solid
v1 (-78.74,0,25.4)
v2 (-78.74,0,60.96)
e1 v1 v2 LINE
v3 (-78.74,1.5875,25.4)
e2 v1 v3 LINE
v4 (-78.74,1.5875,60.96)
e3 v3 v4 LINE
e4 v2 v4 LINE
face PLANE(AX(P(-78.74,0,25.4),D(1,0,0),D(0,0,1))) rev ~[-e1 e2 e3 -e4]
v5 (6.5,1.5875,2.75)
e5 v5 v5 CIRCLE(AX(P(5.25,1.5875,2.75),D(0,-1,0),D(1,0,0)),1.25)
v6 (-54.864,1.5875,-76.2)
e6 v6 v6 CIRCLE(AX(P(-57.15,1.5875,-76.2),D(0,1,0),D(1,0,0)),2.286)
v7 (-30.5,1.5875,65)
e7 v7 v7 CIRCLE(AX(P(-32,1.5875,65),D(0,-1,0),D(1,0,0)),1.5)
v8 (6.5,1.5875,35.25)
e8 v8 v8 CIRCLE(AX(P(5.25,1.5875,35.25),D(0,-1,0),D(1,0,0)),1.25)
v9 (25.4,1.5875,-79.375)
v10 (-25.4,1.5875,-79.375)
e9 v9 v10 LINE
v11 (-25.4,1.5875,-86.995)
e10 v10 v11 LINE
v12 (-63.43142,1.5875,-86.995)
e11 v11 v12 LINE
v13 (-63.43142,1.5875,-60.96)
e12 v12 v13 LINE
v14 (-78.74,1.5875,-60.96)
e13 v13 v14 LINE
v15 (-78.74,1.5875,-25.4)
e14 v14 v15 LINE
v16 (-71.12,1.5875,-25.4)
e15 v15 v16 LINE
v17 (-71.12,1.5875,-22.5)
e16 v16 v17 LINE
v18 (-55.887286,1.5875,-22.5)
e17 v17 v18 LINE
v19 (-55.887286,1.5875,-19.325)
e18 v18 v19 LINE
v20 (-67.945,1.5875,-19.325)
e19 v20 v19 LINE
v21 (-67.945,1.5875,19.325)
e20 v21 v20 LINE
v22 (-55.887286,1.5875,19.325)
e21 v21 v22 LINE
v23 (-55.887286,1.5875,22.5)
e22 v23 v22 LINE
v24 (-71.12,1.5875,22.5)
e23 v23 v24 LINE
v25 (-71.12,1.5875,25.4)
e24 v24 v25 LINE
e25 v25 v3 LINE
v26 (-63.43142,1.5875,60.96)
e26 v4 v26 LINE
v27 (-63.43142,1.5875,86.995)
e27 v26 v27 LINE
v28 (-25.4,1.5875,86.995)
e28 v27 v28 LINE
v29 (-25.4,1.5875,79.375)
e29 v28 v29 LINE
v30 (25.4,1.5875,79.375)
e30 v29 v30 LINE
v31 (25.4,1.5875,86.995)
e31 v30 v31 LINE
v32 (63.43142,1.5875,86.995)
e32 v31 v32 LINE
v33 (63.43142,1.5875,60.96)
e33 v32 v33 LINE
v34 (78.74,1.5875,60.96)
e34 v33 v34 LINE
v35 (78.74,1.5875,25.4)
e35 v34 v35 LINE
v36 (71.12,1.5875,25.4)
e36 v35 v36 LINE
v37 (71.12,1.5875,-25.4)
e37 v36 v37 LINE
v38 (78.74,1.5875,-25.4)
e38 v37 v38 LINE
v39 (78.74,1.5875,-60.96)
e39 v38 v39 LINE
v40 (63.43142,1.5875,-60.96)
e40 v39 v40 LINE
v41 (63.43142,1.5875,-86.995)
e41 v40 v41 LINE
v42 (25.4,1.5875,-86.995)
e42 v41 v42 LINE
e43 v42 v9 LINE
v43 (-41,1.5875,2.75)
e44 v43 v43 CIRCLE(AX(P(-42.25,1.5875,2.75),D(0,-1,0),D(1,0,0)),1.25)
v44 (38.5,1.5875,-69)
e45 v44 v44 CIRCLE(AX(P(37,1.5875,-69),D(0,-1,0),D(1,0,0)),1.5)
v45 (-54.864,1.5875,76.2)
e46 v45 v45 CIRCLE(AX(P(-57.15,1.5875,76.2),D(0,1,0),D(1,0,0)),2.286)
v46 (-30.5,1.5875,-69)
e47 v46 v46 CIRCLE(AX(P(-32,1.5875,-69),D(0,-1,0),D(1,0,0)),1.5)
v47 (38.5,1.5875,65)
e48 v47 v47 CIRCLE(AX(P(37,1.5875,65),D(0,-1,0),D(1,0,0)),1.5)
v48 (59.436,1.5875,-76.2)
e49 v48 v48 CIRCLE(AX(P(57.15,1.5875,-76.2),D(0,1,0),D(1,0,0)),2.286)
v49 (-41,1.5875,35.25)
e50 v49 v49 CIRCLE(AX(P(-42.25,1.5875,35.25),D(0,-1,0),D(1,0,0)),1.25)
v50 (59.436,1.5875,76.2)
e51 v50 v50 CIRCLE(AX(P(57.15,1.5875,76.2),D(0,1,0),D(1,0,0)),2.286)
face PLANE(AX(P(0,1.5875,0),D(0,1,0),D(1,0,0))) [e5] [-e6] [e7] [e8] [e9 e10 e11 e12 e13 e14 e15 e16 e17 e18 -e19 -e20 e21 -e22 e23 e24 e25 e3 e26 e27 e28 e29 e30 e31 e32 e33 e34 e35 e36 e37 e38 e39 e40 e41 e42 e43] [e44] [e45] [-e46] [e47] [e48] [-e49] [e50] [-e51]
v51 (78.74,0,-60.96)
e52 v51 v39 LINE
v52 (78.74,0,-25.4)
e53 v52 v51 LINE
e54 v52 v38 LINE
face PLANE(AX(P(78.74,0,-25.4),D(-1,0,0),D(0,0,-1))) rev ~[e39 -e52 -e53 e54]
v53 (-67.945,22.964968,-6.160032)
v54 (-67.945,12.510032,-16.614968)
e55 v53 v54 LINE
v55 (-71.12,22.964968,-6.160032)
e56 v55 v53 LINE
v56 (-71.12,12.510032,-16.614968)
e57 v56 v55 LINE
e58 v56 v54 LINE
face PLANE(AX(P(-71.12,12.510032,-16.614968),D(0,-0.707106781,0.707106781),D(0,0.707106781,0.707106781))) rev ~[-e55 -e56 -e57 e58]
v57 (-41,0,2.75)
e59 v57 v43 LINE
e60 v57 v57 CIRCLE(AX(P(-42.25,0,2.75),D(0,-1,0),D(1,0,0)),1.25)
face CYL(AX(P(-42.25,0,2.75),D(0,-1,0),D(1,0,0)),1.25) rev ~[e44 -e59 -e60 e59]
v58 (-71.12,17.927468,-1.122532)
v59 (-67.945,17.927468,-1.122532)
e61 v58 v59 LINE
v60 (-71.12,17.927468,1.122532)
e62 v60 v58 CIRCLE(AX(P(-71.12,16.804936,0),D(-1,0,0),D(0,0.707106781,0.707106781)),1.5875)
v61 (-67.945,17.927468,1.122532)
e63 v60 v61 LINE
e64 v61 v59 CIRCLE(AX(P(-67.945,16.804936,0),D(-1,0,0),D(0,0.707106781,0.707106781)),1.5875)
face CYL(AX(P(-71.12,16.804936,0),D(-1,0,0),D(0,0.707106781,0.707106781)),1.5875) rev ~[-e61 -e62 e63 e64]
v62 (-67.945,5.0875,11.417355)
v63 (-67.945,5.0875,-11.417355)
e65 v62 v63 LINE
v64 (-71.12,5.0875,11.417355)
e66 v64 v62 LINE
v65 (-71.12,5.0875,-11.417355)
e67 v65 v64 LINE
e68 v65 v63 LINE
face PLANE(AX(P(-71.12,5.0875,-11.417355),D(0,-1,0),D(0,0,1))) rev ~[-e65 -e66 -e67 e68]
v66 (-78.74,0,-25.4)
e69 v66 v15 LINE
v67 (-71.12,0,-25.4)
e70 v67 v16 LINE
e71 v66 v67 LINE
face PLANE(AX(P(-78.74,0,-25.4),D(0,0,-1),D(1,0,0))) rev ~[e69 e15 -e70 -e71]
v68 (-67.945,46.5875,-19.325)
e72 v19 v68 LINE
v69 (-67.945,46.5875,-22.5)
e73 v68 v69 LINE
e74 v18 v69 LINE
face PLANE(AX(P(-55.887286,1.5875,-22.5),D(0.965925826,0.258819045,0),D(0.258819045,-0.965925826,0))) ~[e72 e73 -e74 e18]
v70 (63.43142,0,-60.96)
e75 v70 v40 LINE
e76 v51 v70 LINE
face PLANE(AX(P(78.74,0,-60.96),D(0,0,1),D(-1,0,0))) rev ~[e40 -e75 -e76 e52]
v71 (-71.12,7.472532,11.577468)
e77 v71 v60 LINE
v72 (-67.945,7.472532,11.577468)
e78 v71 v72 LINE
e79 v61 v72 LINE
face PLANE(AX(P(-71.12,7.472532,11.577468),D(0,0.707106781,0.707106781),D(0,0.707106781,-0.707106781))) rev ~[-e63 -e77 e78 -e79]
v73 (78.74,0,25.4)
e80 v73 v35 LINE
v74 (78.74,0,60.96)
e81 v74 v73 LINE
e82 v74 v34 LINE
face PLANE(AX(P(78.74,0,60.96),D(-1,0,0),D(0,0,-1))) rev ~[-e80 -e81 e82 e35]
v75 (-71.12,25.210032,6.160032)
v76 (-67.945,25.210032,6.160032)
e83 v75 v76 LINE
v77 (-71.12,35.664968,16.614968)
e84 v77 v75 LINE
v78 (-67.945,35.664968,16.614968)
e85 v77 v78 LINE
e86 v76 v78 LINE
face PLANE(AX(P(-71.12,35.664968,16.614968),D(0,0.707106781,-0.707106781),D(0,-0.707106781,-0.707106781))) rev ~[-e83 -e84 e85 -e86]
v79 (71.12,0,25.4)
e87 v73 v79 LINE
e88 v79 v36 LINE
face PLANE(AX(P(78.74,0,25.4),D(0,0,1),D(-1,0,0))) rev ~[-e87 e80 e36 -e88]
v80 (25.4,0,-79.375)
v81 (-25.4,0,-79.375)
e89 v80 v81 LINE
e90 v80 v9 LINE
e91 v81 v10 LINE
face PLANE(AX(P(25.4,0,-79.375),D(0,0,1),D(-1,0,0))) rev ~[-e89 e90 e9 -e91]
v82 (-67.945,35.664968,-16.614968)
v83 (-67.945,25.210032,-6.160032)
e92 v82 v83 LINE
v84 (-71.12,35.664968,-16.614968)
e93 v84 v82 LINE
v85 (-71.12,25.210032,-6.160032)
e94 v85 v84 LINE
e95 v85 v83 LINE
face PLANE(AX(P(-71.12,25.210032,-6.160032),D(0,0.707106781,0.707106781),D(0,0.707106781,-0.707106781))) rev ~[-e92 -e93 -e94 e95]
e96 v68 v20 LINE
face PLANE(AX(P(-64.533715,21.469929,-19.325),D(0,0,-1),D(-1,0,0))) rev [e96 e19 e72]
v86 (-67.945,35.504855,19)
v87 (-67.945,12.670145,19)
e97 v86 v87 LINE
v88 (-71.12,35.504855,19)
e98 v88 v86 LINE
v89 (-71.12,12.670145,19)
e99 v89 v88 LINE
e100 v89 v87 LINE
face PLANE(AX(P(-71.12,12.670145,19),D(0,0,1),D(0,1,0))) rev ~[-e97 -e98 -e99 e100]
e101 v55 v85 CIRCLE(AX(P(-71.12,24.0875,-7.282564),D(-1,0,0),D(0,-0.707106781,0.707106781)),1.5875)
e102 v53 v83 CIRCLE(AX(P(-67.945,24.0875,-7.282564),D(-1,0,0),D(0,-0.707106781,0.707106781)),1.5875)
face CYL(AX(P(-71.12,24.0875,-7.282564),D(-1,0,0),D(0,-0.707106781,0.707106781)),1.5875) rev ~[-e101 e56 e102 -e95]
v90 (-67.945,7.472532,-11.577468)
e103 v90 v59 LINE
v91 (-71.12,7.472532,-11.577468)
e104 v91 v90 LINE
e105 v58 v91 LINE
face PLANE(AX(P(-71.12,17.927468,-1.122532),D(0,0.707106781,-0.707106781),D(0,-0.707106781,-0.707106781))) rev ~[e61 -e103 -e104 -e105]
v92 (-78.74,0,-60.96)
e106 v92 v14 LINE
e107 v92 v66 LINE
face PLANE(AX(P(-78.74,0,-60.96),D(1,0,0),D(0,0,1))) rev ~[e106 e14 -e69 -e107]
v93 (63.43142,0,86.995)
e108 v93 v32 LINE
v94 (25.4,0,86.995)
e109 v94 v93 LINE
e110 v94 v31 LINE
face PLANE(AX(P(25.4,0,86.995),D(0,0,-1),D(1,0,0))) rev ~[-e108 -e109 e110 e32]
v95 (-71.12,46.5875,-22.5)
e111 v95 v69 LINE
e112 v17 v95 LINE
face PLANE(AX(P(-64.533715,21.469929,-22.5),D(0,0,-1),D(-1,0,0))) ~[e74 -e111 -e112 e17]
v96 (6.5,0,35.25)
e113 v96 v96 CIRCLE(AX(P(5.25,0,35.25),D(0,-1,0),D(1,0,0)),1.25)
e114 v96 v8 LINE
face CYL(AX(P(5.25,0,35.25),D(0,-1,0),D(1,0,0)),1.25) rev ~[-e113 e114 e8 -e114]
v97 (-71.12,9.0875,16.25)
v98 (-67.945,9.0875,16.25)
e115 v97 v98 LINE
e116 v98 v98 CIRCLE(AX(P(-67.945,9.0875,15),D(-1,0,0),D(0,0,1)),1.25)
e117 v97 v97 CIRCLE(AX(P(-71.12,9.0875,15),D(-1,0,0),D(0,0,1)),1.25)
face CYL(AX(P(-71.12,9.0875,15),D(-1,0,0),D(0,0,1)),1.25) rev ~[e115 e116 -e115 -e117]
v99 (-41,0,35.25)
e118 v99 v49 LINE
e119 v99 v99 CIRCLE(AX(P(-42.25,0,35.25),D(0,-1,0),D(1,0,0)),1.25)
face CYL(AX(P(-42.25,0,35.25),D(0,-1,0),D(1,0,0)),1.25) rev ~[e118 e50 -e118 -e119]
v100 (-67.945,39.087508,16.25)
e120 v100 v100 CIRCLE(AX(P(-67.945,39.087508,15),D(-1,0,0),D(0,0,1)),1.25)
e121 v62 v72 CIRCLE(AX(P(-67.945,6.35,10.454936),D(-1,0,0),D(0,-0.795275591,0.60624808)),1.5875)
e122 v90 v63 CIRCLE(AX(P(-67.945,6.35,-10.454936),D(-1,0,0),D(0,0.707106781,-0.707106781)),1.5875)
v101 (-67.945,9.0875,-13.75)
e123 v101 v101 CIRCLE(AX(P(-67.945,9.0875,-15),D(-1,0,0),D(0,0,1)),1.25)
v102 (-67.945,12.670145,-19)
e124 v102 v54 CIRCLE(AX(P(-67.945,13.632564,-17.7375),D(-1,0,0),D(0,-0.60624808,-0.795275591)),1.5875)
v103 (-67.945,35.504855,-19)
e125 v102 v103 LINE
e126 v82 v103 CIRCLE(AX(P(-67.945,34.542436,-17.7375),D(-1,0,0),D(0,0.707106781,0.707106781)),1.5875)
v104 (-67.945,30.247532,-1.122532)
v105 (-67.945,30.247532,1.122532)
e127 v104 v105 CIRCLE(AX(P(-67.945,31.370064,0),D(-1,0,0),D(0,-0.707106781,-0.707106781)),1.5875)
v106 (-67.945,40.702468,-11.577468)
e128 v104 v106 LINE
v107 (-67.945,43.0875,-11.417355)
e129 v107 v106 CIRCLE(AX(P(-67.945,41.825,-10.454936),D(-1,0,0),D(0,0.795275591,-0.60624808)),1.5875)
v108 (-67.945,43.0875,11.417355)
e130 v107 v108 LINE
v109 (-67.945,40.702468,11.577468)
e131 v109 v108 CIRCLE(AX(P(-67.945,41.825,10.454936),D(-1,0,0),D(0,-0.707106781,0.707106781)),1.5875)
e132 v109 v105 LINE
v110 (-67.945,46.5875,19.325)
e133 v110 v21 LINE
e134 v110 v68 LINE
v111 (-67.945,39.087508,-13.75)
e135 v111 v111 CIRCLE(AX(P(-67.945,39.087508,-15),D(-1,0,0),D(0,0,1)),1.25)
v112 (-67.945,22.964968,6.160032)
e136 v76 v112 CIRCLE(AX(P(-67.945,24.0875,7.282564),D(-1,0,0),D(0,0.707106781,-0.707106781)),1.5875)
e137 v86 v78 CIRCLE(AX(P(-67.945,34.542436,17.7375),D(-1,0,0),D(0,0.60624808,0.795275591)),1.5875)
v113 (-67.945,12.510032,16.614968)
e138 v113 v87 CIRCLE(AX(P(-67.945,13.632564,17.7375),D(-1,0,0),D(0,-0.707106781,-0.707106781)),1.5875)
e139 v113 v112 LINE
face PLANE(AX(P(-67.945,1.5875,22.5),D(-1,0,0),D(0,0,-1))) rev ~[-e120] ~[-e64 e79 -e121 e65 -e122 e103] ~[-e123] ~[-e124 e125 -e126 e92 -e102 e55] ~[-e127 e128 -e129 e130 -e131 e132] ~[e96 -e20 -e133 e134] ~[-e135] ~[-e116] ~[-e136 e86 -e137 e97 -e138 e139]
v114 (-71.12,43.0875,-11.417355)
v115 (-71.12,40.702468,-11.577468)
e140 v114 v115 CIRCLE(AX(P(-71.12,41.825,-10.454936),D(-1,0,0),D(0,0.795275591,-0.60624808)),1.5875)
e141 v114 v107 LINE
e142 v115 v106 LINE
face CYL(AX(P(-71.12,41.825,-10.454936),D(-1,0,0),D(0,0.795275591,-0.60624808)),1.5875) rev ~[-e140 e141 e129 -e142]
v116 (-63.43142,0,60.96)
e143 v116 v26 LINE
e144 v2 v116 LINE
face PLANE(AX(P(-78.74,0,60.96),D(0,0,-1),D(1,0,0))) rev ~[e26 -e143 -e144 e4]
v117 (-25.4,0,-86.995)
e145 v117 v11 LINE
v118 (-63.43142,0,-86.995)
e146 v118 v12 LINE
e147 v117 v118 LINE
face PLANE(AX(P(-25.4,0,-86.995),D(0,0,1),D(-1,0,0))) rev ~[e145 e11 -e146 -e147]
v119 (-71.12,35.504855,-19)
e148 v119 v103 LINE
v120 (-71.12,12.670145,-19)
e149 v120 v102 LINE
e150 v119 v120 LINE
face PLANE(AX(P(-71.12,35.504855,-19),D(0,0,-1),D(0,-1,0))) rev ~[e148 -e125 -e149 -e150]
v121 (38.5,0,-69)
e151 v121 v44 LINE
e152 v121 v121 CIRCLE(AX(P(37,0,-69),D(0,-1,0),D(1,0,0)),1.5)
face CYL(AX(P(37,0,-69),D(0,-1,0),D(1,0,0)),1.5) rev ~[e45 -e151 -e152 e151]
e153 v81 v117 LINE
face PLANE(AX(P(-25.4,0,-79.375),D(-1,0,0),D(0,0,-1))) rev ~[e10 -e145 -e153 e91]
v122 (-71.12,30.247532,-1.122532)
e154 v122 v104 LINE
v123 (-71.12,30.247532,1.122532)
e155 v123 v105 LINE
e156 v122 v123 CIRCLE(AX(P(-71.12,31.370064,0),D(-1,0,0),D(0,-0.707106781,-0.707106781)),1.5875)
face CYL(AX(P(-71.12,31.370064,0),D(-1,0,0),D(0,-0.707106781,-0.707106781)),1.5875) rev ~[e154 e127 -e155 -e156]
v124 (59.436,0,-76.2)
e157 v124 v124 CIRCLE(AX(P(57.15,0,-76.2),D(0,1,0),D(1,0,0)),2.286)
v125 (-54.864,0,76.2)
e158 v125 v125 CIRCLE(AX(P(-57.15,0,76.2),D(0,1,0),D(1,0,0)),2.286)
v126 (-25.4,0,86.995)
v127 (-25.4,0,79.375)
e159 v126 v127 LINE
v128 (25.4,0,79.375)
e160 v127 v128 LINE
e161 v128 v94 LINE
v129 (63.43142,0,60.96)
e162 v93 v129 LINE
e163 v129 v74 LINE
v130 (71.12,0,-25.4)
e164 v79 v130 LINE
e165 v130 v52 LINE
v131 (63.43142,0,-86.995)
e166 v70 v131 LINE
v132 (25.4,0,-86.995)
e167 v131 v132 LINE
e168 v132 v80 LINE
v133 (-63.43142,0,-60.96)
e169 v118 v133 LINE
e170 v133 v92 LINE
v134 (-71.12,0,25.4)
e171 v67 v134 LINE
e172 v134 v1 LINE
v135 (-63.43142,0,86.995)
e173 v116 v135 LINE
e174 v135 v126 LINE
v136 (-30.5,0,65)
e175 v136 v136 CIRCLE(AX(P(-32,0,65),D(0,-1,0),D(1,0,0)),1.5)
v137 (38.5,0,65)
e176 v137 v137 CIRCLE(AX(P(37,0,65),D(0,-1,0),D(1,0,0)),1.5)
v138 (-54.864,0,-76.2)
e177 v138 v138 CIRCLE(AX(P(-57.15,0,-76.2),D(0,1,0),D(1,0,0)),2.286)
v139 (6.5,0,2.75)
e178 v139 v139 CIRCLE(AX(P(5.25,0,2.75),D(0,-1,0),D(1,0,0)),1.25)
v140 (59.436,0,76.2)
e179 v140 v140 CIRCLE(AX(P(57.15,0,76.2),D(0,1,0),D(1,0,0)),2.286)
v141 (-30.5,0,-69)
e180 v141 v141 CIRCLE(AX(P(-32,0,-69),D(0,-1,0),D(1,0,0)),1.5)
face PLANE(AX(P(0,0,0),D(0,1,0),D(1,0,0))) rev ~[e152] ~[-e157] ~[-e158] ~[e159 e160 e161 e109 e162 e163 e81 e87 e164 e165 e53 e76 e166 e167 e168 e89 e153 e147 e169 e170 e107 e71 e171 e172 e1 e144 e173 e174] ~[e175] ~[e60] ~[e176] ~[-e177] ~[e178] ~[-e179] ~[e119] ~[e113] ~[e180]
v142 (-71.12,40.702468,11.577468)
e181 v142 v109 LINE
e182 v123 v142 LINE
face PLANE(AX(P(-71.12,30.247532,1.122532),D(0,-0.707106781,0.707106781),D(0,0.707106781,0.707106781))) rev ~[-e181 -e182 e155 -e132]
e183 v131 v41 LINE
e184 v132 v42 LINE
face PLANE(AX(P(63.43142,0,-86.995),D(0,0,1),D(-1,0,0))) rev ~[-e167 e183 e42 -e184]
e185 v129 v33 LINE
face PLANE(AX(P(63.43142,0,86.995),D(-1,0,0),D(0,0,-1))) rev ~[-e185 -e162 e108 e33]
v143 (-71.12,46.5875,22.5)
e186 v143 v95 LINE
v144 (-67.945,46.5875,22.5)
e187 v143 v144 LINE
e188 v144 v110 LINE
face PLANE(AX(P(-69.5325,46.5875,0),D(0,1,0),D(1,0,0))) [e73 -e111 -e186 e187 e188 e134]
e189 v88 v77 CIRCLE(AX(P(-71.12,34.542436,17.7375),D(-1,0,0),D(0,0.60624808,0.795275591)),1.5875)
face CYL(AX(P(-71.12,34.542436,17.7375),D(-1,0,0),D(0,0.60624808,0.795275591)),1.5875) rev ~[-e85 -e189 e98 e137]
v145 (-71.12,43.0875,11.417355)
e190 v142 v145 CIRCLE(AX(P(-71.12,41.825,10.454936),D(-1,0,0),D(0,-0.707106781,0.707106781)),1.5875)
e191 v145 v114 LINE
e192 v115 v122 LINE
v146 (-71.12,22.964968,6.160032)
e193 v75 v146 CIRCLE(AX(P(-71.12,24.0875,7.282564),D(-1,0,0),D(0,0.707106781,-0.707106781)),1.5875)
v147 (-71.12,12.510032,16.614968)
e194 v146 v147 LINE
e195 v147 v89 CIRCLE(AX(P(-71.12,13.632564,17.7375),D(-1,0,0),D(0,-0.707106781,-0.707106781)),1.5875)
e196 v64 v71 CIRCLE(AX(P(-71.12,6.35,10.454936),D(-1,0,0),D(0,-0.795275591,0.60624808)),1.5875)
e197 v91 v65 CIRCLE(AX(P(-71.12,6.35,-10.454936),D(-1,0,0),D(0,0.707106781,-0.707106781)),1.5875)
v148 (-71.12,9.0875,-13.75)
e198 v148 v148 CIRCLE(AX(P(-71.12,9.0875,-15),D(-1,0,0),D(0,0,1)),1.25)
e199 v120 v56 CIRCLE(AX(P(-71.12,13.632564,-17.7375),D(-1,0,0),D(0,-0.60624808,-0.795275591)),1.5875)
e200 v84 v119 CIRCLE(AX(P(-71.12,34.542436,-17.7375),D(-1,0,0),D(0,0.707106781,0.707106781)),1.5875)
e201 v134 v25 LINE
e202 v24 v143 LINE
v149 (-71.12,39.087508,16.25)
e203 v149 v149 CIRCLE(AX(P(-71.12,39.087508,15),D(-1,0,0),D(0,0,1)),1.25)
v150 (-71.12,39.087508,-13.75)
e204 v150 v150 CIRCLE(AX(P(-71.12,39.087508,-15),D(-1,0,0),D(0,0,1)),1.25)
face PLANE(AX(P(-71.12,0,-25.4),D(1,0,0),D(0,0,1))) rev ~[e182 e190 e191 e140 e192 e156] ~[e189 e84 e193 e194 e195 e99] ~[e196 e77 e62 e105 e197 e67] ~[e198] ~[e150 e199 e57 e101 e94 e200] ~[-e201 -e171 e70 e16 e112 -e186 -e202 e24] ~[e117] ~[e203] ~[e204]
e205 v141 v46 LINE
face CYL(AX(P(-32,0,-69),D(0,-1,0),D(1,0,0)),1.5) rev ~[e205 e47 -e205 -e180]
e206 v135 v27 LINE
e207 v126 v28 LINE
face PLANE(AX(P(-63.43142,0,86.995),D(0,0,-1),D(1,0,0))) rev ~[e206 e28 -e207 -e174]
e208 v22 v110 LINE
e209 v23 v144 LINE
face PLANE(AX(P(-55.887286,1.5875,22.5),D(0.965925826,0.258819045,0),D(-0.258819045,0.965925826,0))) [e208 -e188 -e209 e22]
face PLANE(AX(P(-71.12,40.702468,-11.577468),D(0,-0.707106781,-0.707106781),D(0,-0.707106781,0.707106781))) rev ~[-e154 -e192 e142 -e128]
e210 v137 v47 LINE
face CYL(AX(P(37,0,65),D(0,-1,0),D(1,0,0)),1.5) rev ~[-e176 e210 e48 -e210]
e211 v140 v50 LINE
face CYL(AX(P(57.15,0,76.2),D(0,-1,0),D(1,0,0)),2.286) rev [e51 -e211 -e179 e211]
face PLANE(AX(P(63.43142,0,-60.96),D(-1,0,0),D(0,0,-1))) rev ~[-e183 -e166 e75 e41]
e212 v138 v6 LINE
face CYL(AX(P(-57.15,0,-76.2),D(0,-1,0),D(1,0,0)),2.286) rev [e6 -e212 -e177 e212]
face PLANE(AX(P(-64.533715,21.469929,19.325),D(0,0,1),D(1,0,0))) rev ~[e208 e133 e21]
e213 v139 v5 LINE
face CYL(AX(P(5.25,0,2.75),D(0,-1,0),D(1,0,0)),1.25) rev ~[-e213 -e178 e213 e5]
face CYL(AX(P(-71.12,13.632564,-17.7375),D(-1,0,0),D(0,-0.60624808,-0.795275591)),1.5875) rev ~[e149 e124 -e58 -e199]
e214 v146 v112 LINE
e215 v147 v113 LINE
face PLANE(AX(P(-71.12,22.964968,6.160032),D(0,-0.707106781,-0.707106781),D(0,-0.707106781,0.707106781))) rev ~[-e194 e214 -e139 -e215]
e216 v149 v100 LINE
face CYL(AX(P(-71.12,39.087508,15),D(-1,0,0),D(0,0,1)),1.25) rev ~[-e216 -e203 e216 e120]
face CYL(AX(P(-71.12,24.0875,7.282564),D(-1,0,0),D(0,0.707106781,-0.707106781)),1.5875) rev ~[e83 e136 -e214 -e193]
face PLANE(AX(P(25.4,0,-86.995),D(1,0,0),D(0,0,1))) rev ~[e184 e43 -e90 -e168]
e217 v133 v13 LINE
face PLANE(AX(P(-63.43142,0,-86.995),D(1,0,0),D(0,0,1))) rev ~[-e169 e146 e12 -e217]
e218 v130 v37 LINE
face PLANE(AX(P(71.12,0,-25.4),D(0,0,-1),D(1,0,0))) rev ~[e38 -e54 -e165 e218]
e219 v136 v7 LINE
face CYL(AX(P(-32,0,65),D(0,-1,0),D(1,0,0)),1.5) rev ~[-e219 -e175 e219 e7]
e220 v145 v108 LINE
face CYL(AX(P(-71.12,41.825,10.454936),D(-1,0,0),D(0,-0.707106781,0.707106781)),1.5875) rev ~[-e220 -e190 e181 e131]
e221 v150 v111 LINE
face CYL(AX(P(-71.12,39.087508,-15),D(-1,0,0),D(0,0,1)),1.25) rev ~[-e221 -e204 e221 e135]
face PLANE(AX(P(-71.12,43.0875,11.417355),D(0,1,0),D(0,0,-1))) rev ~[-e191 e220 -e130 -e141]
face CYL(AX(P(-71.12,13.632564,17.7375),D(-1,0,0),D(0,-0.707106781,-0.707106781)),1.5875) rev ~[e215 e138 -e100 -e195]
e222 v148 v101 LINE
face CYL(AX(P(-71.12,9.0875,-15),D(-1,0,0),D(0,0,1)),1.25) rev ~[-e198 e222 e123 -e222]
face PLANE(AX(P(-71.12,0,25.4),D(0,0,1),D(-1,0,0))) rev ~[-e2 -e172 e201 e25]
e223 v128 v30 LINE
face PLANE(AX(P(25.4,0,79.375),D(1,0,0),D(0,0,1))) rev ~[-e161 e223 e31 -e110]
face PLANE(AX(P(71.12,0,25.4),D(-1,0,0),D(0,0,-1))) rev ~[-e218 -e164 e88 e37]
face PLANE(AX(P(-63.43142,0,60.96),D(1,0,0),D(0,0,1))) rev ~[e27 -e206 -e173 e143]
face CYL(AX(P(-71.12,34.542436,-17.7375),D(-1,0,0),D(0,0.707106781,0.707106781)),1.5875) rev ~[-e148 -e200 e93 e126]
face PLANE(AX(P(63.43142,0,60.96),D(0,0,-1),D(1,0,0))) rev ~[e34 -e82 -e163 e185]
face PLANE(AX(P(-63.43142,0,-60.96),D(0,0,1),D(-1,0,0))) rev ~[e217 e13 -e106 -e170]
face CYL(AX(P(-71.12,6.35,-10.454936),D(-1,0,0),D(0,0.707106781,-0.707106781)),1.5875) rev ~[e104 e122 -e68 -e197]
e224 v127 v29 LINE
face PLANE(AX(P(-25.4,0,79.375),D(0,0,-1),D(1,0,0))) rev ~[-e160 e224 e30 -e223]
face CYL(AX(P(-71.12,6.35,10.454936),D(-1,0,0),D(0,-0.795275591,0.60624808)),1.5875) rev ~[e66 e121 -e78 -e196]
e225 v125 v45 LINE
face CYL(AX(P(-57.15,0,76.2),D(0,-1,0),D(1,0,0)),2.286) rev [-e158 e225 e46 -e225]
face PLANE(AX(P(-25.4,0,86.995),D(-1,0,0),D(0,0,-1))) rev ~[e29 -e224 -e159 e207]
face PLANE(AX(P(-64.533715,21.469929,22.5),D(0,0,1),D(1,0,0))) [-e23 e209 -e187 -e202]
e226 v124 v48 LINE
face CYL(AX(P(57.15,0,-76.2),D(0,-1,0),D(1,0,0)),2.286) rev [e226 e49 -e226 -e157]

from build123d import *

# Parameters (mm, degrees)
SKETCH1_R           = 2.286
MAIN_BODY_DEPTH     = 1.5875
SKETCH8_W           = 3.175
SKETCH8_H           = 45
BOSS_EXTRUDE4_DEPTH = 45
BOSS_EXTRUDE5_DEPTH = 3.175
CUT_EXTRUDE2_REACH  = 151.86
SKETCH9_R           = 1.25
CUT_EXTRUDE3_REACH  = 48.587
SKETCH12_R          = 1.5
SKETCH12_R_2        = 1.25


with BuildPart() as part:
    # Sketch1 → Main Body (new body)
    with BuildSketch(Plane(origin=(0, 0, 0), x_dir=(1, 0, 0), z_dir=(0, 1, 0))):
        Polygon((-25.4, 86.995), (-63.43142, 86.995), (-63.43142, 60.96), (-78.74, 60.96), (-78.74, 25.4), (-71.12, 25.4), (-71.12, -25.4), (-78.74, -25.4), (-78.74, -60.96), (-63.43142, -60.96), (-63.43142, -86.995), (-25.4, -86.995), (-25.4, -79.375), (25.4, -79.375), (25.4, -86.995), (63.43142, -86.995), (63.43142, -60.96), (78.74, -60.96), (78.74, -25.4), (71.12, -25.4), (71.12, 25.4), (78.74, 25.4), (78.74, 60.96), (63.43142, 60.96), (63.43142, 86.995), (25.4, 86.995), (25.4, 79.375), (-25.4, 79.375), align=None)
        with Locations((-57.15, 76.2)):
            Circle(SKETCH1_R, mode=Mode.SUBTRACT)
        with Locations((57.15, 76.2)):
            Circle(SKETCH1_R, mode=Mode.SUBTRACT)
        with Locations((57.15, -76.2)):
            Circle(SKETCH1_R, mode=Mode.SUBTRACT)
        with Locations((-57.15, -76.2)):
            Circle(SKETCH1_R, mode=Mode.SUBTRACT)
    extrude(amount=MAIN_BODY_DEPTH)

    # Sketch8 → Boss-Extrude4 (add)
    with BuildSketch(Plane(origin=(0, 1.5875, 0), x_dir=(1, 0, 0), z_dir=(0, 1, 0))):
        with Locations((-69.5325, 0)):
            Rectangle(SKETCH8_W, SKETCH8_H)
    extrude(amount=BOSS_EXTRUDE4_DEPTH)

    # Sketch10 → Boss-Extrude5 (add)
    with BuildSketch(Plane.XY.offset(22.5)):
        Polygon((-67.945, 46.5875), (-67.945, 1.5875), (-55.887286341, 1.5875), align=None)
    boss_extrude5 = extrude(amount=-BOSS_EXTRUDE5_DEPTH)

    # Mirror3: Boss-Extrude5 across plane
    add(boss_extrude5.mirror(Plane.XY))

    # Sketch9 → Cut-Extrude2 (cut, up to next)
    with BuildSketch(Plane.ZY.offset(71.12), mode=Mode.PRIVATE) as cut_extrude2_sk1:
        with BuildLine():
            Line((-19, 35.504854797), (-19, 12.670145203))
            ThreePointArc((-19, 12.670145203), (-17.84383352, 12.048629236), (-16.614967985, 12.510032015))
            Line((-16.614967985, 12.510032015), (-6.160032015, 22.964967985))
            ThreePointArc((-6.160032015, 22.964967985), (-5.69506403, 24.0875), (-6.160032015, 25.210032015))
            Line((-6.160032015, 25.210032015), (-16.614967985, 35.664967985))
            ThreePointArc((-16.614967985, 35.664967985), (-17.84383352, 36.126370764), (-19, 35.504854797))
        make_face()
    cut_extrude2_tool1 = extrude(cut_extrude2_sk1.sketch, amount=-CUT_EXTRUDE2_REACH, mode=Mode.PRIVATE) & part.part
    add(cut_extrude2_tool1.solids().sort_by_distance((-71.12, 24.0875, -14.28057))[0], mode=Mode.SUBTRACT)
    # Sketch9 → Cut-Extrude2 (cut, up to next)
    with BuildSketch(Plane.ZY.offset(71.12), mode=Mode.PRIVATE) as cut_extrude2_sk2:
        with BuildLine():
            ThreePointArc((16.614967985, 12.510032015), (17.84383352, 12.048629236), (19, 12.670145203))
            Line((19, 12.670145203), (19, 35.504854797))
            ThreePointArc((19, 35.504854797), (17.84383352, 36.126370764), (16.614967985, 35.664967985))
            Line((16.614967985, 35.664967985), (6.160032015, 25.210032015))
            ThreePointArc((6.160032015, 25.210032015), (5.69506403, 24.0875), (6.160032015, 22.964967985))
            Line((6.160032015, 22.964967985), (16.614967985, 12.510032015))
        make_face()
    cut_extrude2_tool2 = extrude(cut_extrude2_sk2.sketch, amount=-CUT_EXTRUDE2_REACH, mode=Mode.PRIVATE) & part.part
    add(cut_extrude2_tool2.solids().sort_by_distance((-71.12, 24.0875, 14.28057))[0], mode=Mode.SUBTRACT)
    # Sketch9 → Cut-Extrude2 (cut, up to next)
    with BuildSketch(Plane.ZY.offset(71.12), mode=Mode.PRIVATE) as cut_extrude2_sk3:
        with BuildLine():
            ThreePointArc((-11.577467985, 7.472532015), (-12.038870764, 6.24366648), (-11.417354797, 5.0875))
            Line((-11.417354797, 5.0875), (11.417354797, 5.0875))
            ThreePointArc((11.417354797, 5.0875), (12.038870764, 6.24366648), (11.577467985, 7.472532015))
            Line((11.577467985, 7.472532015), (1.122532015, 17.927467985))
            ThreePointArc((1.122532015, 17.927467985), (0, 18.39243597), (-1.122532015, 17.927467985))
            Line((-1.122532015, 17.927467985), (-11.577467985, 7.472532015))
        make_face()
    cut_extrude2_tool3 = extrude(cut_extrude2_sk3.sketch, amount=-CUT_EXTRUDE2_REACH, mode=Mode.PRIVATE) & part.part
    add(cut_extrude2_tool3.solids().sort_by_distance((-71.12, 9.80693, 0))[0], mode=Mode.SUBTRACT)
    # Sketch9 → Cut-Extrude2 (cut, up to next)
    with BuildSketch(Plane.ZY.offset(71.12), mode=Mode.PRIVATE) as cut_extrude2_sk4:
        with BuildLine():
            Line((11.417354797, 43.0875), (-11.417354797, 43.0875))
            ThreePointArc((-11.417354797, 43.0875), (-12.038870764, 41.93133352), (-11.577467985, 40.702467985))
            Line((-11.577467985, 40.702467985), (-1.122532015, 30.247532015))
            ThreePointArc((-1.122532015, 30.247532015), (0, 29.78256403), (1.122532015, 30.247532015))
            Line((1.122532015, 30.247532015), (11.577467985, 40.702467985))
            ThreePointArc((11.577467985, 40.702467985), (12.038870764, 41.93133352), (11.417354797, 43.0875))
        make_face()
    cut_extrude2_tool4 = extrude(cut_extrude2_sk4.sketch, amount=-CUT_EXTRUDE2_REACH, mode=Mode.PRIVATE) & part.part
    add(cut_extrude2_tool4.solids().sort_by_distance((-71.12, 38.36807, 0))[0], mode=Mode.SUBTRACT)
    # Sketch9 → Cut-Extrude2 (cut, up to next)
    with BuildSketch(Plane.ZY.offset(71.12), mode=Mode.PRIVATE) as cut_extrude2_sk5:
        with Locations((15, 39.087508)):
            Circle(SKETCH9_R)
    cut_extrude2_tool5 = extrude(cut_extrude2_sk5.sketch, amount=-CUT_EXTRUDE2_REACH, mode=Mode.PRIVATE) & part.part
    add(cut_extrude2_tool5.solids().sort_by_distance((-71.12, 39.087508, 15))[0], mode=Mode.SUBTRACT)
    # Sketch9 → Cut-Extrude2 (cut, up to next)
    with BuildSketch(Plane.ZY.offset(71.12), mode=Mode.PRIVATE) as cut_extrude2_sk6:
        with Locations((-15, 39.087508)):
            Circle(SKETCH9_R)
    cut_extrude2_tool6 = extrude(cut_extrude2_sk6.sketch, amount=-CUT_EXTRUDE2_REACH, mode=Mode.PRIVATE) & part.part
    add(cut_extrude2_tool6.solids().sort_by_distance((-71.12, 39.087508, -15))[0], mode=Mode.SUBTRACT)
    # Sketch9 → Cut-Extrude2 (cut, up to next)
    with BuildSketch(Plane.ZY.offset(71.12), mode=Mode.PRIVATE) as cut_extrude2_sk7:
        with Locations((-15, 9.0875)):
            Circle(SKETCH9_R)
    cut_extrude2_tool7 = extrude(cut_extrude2_sk7.sketch, amount=-CUT_EXTRUDE2_REACH, mode=Mode.PRIVATE) & part.part
    add(cut_extrude2_tool7.solids().sort_by_distance((-71.12, 9.0875, -15))[0], mode=Mode.SUBTRACT)
    # Sketch9 → Cut-Extrude2 (cut, up to next)
    with BuildSketch(Plane.ZY.offset(71.12), mode=Mode.PRIVATE) as cut_extrude2_sk8:
        with Locations((15, 9.0875)):
            Circle(SKETCH9_R)
    cut_extrude2_tool8 = extrude(cut_extrude2_sk8.sketch, amount=-CUT_EXTRUDE2_REACH, mode=Mode.PRIVATE) & part.part
    add(cut_extrude2_tool8.solids().sort_by_distance((-71.12, 9.0875, 15))[0], mode=Mode.SUBTRACT)

    # Sketch12 → Cut-Extrude3 (cut, up to next)
    with BuildSketch(Plane.XZ, mode=Mode.PRIVATE) as cut_extrude3_sk1:
        with Locations((-32, -69)):
            Circle(SKETCH12_R)
    cut_extrude3_tool1 = extrude(cut_extrude3_sk1.sketch, amount=-CUT_EXTRUDE3_REACH, mode=Mode.PRIVATE) & part.part
    add(cut_extrude3_tool1.solids().sort_by_distance((-32, 0, -69))[0], mode=Mode.SUBTRACT)
    # Sketch12 → Cut-Extrude3 (cut, up to next)
    with BuildSketch(Plane.XZ, mode=Mode.PRIVATE) as cut_extrude3_sk2:
        with Locations((37, -69)):
            Circle(SKETCH12_R)
    cut_extrude3_tool2 = extrude(cut_extrude3_sk2.sketch, amount=-CUT_EXTRUDE3_REACH, mode=Mode.PRIVATE) & part.part
    add(cut_extrude3_tool2.solids().sort_by_distance((37, 0, -69))[0], mode=Mode.SUBTRACT)
    # Sketch12 → Cut-Extrude3 (cut, up to next)
    with BuildSketch(Plane.XZ, mode=Mode.PRIVATE) as cut_extrude3_sk3:
        with Locations((37, 65)):
            Circle(SKETCH12_R)
    cut_extrude3_tool3 = extrude(cut_extrude3_sk3.sketch, amount=-CUT_EXTRUDE3_REACH, mode=Mode.PRIVATE) & part.part
    add(cut_extrude3_tool3.solids().sort_by_distance((37, 0, 65))[0], mode=Mode.SUBTRACT)
    # Sketch12 → Cut-Extrude3 (cut, up to next)
    with BuildSketch(Plane.XZ, mode=Mode.PRIVATE) as cut_extrude3_sk4:
        with Locations((-32, 65)):
            Circle(SKETCH12_R)
    cut_extrude3_tool4 = extrude(cut_extrude3_sk4.sketch, amount=-CUT_EXTRUDE3_REACH, mode=Mode.PRIVATE) & part.part
    add(cut_extrude3_tool4.solids().sort_by_distance((-32, 0, 65))[0], mode=Mode.SUBTRACT)
    # Sketch12 → Cut-Extrude3 (cut, up to next)
    with BuildSketch(Plane.XZ, mode=Mode.PRIVATE) as cut_extrude3_sk5:
        with Locations((-42.25, 2.75)):
            Circle(SKETCH12_R_2)
    cut_extrude3_tool5 = extrude(cut_extrude3_sk5.sketch, amount=-CUT_EXTRUDE3_REACH, mode=Mode.PRIVATE) & part.part
    add(cut_extrude3_tool5.solids().sort_by_distance((-42.25, 0, 2.75))[0], mode=Mode.SUBTRACT)
    # Sketch12 → Cut-Extrude3 (cut, up to next)
    with BuildSketch(Plane.XZ, mode=Mode.PRIVATE) as cut_extrude3_sk6:
        with Locations((-42.25, 35.25)):
            Circle(SKETCH12_R_2)
    cut_extrude3_tool6 = extrude(cut_extrude3_sk6.sketch, amount=-CUT_EXTRUDE3_REACH, mode=Mode.PRIVATE) & part.part
    add(cut_extrude3_tool6.solids().sort_by_distance((-42.25, 0, 35.25))[0], mode=Mode.SUBTRACT)
    # Sketch12 → Cut-Extrude3 (cut, up to next)
    with BuildSketch(Plane.XZ, mode=Mode.PRIVATE) as cut_extrude3_sk7:
        with Locations((5.25, 2.75)):
            Circle(SKETCH12_R_2)
    cut_extrude3_tool7 = extrude(cut_extrude3_sk7.sketch, amount=-CUT_EXTRUDE3_REACH, mode=Mode.PRIVATE) & part.part
    add(cut_extrude3_tool7.solids().sort_by_distance((5.25, 0, 2.75))[0], mode=Mode.SUBTRACT)
    # Sketch12 → Cut-Extrude3 (cut, up to next)
    with BuildSketch(Plane.XZ, mode=Mode.PRIVATE) as cut_extrude3_sk8:
        with Locations((5.25, 35.25)):
            Circle(SKETCH12_R_2)
    cut_extrude3_tool8 = extrude(cut_extrude3_sk8.sketch, amount=-CUT_EXTRUDE3_REACH, mode=Mode.PRIVATE) & part.part
    add(cut_extrude3_tool8.solids().sort_by_distance((5.25, 0, 35.25))[0], mode=Mode.SUBTRACT)


solid = part.part
